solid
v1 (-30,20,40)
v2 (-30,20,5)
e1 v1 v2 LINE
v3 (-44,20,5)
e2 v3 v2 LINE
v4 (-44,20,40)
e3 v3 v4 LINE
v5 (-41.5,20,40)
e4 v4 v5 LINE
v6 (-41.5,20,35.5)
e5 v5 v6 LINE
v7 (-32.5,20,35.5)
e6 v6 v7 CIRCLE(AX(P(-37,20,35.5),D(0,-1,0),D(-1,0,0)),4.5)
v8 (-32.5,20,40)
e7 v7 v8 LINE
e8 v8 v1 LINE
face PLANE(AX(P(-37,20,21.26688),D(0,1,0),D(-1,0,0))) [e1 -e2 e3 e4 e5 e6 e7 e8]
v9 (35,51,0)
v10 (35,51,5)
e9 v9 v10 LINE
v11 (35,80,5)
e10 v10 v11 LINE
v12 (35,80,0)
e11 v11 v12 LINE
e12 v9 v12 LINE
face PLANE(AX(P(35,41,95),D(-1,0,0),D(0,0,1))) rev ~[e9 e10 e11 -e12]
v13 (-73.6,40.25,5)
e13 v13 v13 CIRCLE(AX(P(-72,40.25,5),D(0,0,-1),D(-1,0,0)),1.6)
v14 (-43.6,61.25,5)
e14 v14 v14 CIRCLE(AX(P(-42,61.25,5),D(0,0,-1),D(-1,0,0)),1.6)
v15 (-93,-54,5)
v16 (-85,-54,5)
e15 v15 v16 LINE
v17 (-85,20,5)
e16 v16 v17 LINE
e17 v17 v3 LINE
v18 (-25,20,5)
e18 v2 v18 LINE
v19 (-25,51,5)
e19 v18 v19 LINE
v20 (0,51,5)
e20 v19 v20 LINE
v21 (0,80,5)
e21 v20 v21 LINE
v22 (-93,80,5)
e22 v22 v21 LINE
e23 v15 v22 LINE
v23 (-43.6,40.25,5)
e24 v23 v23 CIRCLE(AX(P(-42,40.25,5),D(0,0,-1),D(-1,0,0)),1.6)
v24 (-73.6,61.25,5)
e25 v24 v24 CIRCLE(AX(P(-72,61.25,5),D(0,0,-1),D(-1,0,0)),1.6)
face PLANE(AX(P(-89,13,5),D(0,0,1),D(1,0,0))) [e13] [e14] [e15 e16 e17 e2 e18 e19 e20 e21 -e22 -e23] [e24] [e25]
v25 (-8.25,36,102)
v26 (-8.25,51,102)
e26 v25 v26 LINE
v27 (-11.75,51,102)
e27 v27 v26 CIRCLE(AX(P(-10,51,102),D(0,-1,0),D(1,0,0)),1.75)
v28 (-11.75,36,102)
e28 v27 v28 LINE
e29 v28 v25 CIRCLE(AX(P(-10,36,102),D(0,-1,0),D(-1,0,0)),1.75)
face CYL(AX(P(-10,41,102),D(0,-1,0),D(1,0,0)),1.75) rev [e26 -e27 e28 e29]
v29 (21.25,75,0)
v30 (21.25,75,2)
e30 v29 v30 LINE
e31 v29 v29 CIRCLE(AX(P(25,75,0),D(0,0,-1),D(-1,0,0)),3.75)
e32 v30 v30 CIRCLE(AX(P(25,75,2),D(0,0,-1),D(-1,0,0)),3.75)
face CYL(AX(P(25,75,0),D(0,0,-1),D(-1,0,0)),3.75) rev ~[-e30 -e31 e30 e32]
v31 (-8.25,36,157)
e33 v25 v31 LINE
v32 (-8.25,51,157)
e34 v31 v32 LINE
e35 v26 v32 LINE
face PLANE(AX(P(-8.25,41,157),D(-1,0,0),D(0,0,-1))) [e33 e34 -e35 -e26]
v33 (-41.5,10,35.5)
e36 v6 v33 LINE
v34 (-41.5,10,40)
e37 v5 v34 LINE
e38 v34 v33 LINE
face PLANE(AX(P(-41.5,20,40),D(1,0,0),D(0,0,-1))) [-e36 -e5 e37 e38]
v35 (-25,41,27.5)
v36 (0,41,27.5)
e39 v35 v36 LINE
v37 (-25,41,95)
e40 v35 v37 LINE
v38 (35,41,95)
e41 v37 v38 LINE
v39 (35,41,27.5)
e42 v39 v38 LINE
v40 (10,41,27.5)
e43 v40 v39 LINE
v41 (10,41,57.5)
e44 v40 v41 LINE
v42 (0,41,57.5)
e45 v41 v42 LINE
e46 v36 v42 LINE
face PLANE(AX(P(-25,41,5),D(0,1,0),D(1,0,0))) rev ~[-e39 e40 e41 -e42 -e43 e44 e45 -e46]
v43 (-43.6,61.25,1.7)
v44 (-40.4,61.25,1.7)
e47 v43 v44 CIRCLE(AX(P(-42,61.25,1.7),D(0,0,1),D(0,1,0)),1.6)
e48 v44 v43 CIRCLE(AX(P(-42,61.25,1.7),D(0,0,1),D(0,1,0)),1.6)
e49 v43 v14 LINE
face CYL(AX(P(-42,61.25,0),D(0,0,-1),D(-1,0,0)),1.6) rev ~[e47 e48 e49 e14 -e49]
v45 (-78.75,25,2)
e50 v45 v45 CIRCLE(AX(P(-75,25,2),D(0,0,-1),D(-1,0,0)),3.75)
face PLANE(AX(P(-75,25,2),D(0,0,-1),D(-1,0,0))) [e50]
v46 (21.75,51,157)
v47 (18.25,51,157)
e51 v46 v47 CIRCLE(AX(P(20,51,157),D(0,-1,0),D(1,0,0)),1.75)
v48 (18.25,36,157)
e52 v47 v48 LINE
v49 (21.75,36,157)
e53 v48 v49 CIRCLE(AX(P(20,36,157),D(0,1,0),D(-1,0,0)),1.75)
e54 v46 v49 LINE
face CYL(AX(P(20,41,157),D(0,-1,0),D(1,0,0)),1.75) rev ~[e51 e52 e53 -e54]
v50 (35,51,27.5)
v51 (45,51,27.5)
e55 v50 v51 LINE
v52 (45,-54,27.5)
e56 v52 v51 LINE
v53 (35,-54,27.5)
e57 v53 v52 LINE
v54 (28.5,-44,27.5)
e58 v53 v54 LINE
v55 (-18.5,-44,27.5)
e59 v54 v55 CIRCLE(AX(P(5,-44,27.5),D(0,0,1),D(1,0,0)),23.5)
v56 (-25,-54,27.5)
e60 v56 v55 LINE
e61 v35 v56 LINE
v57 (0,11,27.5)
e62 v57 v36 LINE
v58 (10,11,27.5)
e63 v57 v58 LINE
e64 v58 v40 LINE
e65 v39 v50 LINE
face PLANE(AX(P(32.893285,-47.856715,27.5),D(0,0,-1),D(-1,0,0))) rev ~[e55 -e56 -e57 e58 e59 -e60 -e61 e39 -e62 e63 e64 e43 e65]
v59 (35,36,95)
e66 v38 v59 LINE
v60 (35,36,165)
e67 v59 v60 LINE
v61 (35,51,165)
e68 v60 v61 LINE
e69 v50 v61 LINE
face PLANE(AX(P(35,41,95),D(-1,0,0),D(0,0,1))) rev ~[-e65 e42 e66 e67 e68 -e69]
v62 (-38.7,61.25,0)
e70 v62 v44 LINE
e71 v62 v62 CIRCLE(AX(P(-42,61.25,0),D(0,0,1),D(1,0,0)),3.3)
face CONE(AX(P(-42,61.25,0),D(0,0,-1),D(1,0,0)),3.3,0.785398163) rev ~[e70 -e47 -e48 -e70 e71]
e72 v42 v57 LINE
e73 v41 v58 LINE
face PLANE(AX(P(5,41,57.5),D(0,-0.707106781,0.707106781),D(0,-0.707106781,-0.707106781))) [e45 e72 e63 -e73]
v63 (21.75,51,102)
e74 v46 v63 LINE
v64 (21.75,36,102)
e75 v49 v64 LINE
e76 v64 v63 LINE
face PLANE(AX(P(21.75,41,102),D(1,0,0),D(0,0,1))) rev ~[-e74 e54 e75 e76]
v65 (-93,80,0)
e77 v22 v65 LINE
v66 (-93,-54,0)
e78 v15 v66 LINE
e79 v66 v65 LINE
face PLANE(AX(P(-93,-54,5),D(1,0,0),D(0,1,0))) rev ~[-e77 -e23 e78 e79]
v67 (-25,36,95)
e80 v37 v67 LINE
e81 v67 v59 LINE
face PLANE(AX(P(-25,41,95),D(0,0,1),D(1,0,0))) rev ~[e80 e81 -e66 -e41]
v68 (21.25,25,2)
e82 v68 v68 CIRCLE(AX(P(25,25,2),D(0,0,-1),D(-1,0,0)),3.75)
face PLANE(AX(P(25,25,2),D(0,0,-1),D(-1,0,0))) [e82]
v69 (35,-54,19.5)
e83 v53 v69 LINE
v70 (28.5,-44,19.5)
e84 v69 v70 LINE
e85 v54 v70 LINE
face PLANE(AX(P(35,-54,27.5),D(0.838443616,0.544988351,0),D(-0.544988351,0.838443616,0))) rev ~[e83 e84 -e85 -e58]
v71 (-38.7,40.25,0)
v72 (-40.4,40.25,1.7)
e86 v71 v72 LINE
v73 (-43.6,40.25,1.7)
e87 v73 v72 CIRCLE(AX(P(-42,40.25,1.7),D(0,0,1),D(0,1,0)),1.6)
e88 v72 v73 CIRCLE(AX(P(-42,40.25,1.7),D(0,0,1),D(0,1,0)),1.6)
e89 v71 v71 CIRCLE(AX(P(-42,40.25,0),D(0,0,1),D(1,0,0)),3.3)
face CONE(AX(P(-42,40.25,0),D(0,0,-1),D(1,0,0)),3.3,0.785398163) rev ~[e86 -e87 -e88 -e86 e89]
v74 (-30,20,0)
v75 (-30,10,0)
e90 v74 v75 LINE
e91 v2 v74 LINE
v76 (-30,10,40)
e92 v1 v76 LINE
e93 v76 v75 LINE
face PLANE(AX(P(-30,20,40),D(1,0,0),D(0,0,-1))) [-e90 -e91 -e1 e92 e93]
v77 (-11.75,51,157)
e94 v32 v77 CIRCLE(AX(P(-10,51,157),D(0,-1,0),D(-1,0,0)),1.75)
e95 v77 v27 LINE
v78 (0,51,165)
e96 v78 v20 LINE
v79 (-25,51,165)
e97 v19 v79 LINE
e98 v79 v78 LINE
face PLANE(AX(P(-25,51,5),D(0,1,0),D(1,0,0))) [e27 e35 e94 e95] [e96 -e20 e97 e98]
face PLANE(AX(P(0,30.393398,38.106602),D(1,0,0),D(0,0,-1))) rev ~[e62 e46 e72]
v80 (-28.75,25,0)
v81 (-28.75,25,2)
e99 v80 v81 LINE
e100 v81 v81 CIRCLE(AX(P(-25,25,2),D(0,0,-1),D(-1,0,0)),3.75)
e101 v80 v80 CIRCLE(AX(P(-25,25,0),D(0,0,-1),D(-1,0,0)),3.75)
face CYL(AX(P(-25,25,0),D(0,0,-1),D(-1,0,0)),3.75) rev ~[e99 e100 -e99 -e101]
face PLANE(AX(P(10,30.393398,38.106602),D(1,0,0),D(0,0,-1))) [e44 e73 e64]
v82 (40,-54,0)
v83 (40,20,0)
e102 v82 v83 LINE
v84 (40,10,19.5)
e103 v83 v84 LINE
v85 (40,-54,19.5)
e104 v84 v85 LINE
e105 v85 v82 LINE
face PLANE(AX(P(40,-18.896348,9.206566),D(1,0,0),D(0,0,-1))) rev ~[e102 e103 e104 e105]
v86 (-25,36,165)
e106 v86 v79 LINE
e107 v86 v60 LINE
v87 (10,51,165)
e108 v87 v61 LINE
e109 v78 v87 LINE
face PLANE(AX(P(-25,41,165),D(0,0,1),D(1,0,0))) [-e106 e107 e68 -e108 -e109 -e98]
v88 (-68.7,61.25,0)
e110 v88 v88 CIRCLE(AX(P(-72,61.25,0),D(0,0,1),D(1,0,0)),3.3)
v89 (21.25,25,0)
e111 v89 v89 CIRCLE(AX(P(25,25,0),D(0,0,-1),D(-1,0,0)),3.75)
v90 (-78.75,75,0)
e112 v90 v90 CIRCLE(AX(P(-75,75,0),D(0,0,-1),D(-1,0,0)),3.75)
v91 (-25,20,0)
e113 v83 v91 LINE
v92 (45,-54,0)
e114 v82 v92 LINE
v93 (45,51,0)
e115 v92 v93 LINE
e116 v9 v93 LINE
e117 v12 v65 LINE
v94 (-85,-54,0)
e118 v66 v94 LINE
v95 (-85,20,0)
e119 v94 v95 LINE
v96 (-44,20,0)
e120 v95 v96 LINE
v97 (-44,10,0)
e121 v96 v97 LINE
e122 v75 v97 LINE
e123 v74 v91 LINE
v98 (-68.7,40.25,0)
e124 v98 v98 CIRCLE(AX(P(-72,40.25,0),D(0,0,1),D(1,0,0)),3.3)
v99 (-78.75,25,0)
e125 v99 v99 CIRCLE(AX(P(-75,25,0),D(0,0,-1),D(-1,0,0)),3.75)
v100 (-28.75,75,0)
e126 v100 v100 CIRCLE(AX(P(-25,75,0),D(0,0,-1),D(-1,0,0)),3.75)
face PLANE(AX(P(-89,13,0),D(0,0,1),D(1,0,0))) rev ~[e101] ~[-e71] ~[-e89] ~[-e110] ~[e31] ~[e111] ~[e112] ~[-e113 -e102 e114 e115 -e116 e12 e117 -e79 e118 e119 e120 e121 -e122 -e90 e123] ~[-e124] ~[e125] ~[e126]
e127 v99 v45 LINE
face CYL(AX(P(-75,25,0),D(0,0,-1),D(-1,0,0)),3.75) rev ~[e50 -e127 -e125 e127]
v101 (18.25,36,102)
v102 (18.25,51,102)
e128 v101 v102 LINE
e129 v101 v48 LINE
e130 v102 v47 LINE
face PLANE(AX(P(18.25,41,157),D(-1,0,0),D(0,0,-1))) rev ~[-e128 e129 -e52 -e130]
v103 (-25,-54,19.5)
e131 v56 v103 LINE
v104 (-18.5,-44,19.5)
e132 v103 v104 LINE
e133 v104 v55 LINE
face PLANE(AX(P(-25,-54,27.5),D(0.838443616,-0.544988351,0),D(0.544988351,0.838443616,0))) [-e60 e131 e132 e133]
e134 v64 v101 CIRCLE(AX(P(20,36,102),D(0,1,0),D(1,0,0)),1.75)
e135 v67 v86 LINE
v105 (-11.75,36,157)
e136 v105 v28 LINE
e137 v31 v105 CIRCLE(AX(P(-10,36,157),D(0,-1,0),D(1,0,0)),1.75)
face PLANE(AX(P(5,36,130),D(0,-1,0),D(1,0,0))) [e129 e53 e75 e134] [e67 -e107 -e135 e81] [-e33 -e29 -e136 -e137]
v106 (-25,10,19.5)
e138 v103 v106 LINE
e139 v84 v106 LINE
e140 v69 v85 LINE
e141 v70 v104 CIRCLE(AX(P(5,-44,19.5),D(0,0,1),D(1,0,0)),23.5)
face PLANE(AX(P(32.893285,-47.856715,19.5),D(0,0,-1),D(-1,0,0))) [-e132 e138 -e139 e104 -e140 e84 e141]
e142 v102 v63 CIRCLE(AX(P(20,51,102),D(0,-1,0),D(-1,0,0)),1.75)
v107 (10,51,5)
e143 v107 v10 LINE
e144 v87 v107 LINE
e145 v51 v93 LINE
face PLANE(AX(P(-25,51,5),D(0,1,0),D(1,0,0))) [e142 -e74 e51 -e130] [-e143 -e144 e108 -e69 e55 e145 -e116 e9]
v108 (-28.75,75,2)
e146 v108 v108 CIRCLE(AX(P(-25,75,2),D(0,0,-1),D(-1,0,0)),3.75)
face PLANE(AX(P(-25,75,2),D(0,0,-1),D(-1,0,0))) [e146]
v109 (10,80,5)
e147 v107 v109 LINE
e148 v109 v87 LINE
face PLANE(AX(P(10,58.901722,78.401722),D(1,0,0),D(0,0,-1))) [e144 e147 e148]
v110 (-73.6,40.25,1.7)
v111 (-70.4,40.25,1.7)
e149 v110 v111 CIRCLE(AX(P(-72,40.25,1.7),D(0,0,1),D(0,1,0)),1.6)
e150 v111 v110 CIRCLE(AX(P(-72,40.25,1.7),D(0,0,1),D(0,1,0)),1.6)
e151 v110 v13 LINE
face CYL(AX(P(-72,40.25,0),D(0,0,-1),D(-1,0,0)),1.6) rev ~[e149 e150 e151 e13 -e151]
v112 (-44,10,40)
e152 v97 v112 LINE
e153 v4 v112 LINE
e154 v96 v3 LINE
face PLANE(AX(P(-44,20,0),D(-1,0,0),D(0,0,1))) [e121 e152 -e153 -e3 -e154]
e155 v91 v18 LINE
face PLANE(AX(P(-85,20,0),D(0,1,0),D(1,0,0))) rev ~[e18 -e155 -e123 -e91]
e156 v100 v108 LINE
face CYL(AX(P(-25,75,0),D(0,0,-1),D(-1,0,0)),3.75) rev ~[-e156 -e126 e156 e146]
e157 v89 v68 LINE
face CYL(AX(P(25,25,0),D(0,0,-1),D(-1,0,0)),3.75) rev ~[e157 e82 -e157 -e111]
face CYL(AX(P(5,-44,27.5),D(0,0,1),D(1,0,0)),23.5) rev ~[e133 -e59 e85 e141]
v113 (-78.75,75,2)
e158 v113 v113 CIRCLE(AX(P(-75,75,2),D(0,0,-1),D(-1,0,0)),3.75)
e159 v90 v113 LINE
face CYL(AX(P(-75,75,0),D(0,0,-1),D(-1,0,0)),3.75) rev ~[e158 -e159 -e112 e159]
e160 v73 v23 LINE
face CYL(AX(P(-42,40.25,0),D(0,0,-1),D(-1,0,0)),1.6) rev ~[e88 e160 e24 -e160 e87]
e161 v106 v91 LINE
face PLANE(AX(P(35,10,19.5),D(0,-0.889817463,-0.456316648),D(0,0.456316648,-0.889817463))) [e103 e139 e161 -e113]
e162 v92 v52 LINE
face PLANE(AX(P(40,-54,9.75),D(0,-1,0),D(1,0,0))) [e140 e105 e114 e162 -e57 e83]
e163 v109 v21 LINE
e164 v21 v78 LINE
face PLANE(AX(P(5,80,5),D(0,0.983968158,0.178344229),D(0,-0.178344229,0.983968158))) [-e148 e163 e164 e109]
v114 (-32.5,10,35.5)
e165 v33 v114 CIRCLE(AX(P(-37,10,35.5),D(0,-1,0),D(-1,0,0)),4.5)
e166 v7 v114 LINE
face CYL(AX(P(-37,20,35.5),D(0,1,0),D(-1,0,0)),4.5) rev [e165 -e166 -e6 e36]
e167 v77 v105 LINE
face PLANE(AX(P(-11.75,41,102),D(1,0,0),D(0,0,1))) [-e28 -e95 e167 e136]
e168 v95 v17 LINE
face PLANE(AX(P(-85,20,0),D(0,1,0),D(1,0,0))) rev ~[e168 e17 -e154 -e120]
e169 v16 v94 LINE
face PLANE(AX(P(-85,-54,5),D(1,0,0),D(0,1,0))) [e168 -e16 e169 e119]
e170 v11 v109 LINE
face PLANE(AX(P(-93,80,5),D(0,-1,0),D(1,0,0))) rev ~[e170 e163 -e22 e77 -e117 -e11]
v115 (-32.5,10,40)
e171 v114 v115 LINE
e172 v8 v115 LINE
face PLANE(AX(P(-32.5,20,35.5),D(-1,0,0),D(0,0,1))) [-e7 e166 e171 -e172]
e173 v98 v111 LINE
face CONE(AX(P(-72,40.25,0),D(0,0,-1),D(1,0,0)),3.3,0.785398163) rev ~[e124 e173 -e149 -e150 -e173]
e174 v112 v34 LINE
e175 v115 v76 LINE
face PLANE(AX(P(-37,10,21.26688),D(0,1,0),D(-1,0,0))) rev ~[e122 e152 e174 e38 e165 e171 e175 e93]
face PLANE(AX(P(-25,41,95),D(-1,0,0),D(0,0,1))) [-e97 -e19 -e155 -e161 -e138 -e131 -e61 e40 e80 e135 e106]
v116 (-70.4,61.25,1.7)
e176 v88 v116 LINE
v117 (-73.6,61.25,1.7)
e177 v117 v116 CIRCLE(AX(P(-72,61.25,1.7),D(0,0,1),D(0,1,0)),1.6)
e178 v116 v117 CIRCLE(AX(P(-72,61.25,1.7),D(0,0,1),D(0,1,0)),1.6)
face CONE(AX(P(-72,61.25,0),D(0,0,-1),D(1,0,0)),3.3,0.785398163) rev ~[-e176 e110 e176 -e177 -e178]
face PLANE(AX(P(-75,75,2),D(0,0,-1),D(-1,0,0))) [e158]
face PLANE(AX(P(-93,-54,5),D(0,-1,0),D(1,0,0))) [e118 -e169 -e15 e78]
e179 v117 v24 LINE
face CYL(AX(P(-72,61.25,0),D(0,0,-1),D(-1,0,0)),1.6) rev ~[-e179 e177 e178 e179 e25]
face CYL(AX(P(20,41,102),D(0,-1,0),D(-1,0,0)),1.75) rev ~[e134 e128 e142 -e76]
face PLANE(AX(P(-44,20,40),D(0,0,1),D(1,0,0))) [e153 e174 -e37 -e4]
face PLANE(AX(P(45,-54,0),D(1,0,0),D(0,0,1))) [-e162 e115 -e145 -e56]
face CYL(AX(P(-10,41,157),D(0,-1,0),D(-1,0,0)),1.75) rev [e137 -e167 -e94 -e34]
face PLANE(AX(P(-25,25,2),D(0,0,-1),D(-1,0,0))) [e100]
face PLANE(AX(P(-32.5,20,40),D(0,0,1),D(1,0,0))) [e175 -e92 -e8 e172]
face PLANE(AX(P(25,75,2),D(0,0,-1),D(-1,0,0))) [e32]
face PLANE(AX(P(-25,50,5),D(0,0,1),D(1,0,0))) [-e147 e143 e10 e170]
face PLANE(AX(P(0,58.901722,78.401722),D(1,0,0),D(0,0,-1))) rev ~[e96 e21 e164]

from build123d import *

# Parameters (mm, degrees)
SKETCH_1_W                   = 120
SKETCH_1_H                   = 60
EXTRUDE_1_DEPTH              = 5
SKETCH_3_W                   = 60
SKETCH_3_H                   = 8
EXTRUDE_3_DEPTH              = 60
EXTRUDE_6_DEPTH              = 10
SKETCH_11_R                  = 1.6
CUT_EXTRUDE_3_DEPTH          = 124.668912828
SKETCH_12_R                  = 1.6
CUT_EXTRUDE_4_DEPTH          = 134.603892159
SKETCH_18_R                  = 3.75
CUT_EXTRUDE_7_DEPTH          = 2
SKETCH_20_W                  = 60
SKETCH_20_H                  = 90
EXTRUDE_8_DEPTH              = 8
SKETCH_22_W                  = 60
SKETCH_22_H                  = 50
EXTRUDE_9_DEPTH              = 5
CUT_EXTRUDE_8_DEPTH          = 191.131533418
CUT_EXTRUDE_8_DEPTH_BACK     = 191.131533418
SKETCH_23_W                  = 60
SKETCH_23_H                  = 10
EXTRUDE_10_DEPTH             = 160
CUT_EXTRUDE_9_DEPTH          = 190.660222503
SKETCH_25_W                  = 150
SKETCH_25_H                  = 13
CUT_EXTRUDE_10_DEPTH         = 193.937813816
SKETCH_26_W                  = 60
SKETCH_26_H                  = 8
EXTRUDE_11_DEPTH             = 85
SKETCH_27_R                  = 23.5
CUT_EXTRUDE_11_DEPTH         = 181.364214854
EXTRUDE_12_DEPTH             = 8
SKETCH_29_W                  = 60
SKETCH_29_H                  = 70
EXTRUDE_13_DEPTH             = 5
CUT_EXTRUDE_12_DEPTH         = 207.276513447
HOLE_WIZARD_M3_1_D           = 3.2
HOLE_WIZARD_M3_1_CSINK_D     = 6.6
HOLE_WIZARD_M3_1_CSINK_ANGLE = 90
SKETCH_33_W                  = 14.5
SKETCH_33_H                  = 21
EXTRUDE_14_DEPTH             = 60
EXTRUDE_15_DEPTH             = 60
EXTRUDE_18_DEPTH             = 5
EXTRUDE_19_DEPTH             = 5
SKETCH_38_W                  = 10
SKETCH_38_H                  = 105
EXTRUDE_20_DEPTH             = 8
SKETCH_40_W                  = 10
SKETCH_40_H                  = 19.5
EXTRUDE_21_DEPTH             = 105
CUT_EXTRUDE_13_DEPTH         = 5
SKETCH_42_W                  = 8
SKETCH_42_H                  = 134
EXTRUDE_22_DEPTH             = 5
EXTRUDE_17_DEPTH             = 5


with BuildPart() as part:
    # 草图1 → 凸台-拉伸1 (new body)
    with BuildSketch(Plane.XY):
        with Locations((-25, 50)):
            Rectangle(SKETCH_1_W, SKETCH_1_H)
    extrude(amount=EXTRUDE_1_DEPTH)

    # 草图3 → 凸台-拉伸3 (add)
    with BuildSketch(Plane.XY.offset(5)):
        with Locations((5, 76)):
            Rectangle(SKETCH_3_W, SKETCH_3_H)
    extrude(amount=EXTRUDE_3_DEPTH)

    # 草图9 → 凸台-拉伸6 (add)
    with BuildSketch(Plane.XZ.offset(-20)):
        with BuildLine():
            Line((-32.5, 0), (-41.5, 0))
            Line((-41.5, 0), (-44, 0))
            Line((-44, 0), (-44, 40))
            Line((-44, 40), (-41.5, 40))
            Line((-41.5, 40), (-41.5, 35.5))
            ThreePointArc((-41.5, 35.5), (-37, 31), (-32.5, 35.5))
            Line((-32.5, 35.5), (-32.5, 40))
            Line((-32.5, 40), (-30, 40))
            Line((-30, 40), (-30, 0))
            Line((-30, 0), (-32.5, 0))
        make_face()
    extrude(amount=EXTRUDE_6_DEPTH)

    # 草图11 → 切除-拉伸3 (cut, through all)
    with BuildSketch(Plane(origin=(0, 72, 0), x_dir=(-1, 0, 0), z_dir=(0, -1, 0))):
        with Locations(Location((-20, -52.088110118, 0), (0, 0, 90))):
            Circle(SKETCH_11_R)
        with Locations(Location((10, -28.088110118, 0), (0, 0, 90))):
            Circle(SKETCH_11_R)
        with Locations(Location((-20, -28.088110118, 0), (0, 0, 90))):
            Circle(SKETCH_11_R)
        with Locations(Location((10, -52.088110118, 0), (0, 0, 90))):
            Circle(SKETCH_11_R)
    extrude(amount=-CUT_EXTRUDE_3_DEPTH, mode=Mode.SUBTRACT)

    # 草图12 → 切除-拉伸4 (cut, through all)
    with BuildSketch(Plane(origin=(0, 0, 0), x_dir=(-1, 0, 0), z_dir=(0, 0, -1))):
        with Locations((42, 40.25)):
            Circle(SKETCH_12_R)
        with Locations((42, 61.25)):
            Circle(SKETCH_12_R)
        with Locations((72, 40.25)):
            Circle(SKETCH_12_R)
        with Locations((72, 61.25)):
            Circle(SKETCH_12_R)
    extrude(amount=-CUT_EXTRUDE_4_DEPTH, mode=Mode.SUBTRACT)

    # 草图18 → 切除-拉伸7 (cut)
    with BuildSketch(Plane(origin=(0, 0, 0), x_dir=(-1, 0, 0), z_dir=(0, 0, -1))):
        with Locations((75, 75)):
            Circle(SKETCH_18_R)
        with Locations((25, 75)):
            Circle(SKETCH_18_R)
        with Locations((-25, 75)):
            Circle(SKETCH_18_R)
        with Locations((-25, 25)):
            Circle(SKETCH_18_R)
        with Locations((25, 25)):
            Circle(SKETCH_18_R)
        with Locations((75, 25)):
            Circle(SKETCH_18_R)
    extrude(amount=-CUT_EXTRUDE_7_DEPTH, mode=Mode.SUBTRACT)

    # 草图20 → 凸台-拉伸8 (add)
    with BuildSketch(Plane(origin=(0, 80, 0), x_dir=(1, 0, 0), z_dir=(0, 1, 0))):
        with Locations((5, -110)):
            Rectangle(SKETCH_20_W, SKETCH_20_H)
    extrude(amount=-EXTRUDE_8_DEPTH)

    # 草图22 → 凸台-拉伸9 (add)
    with BuildSketch(Plane.XZ.offset(-72)):
        with Locations((5, 130)):
            Rectangle(SKETCH_22_W, SKETCH_22_H)
    extrude(amount=EXTRUDE_9_DEPTH)

    # 草图21 → 切除-拉伸8 (cut, two sides: drawn at the far end of the back side and taken through both)
    with BuildSketch(Plane(origin=(0, 80, 0), x_dir=(1, 0, 0), z_dir=(0, 1, 0)).offset(-CUT_EXTRUDE_8_DEPTH_BACK)):
        with BuildLine():
            Line((21.75, -115), (21.75, -145))
            ThreePointArc((21.75, -145), (20, -146.75), (18.25, -145))
            Line((18.25, -145), (18.25, -115))
            ThreePointArc((18.25, -115), (20, -113.25), (21.75, -115))
        make_face()
        with BuildLine():
            Line((-11.75, -115), (-11.75, -145))
            ThreePointArc((-11.75, -145), (-10, -146.75), (-8.25, -145))
            Line((-8.25, -145), (-8.25, -115))
            ThreePointArc((-8.25, -115), (-10, -113.25), (-11.75, -115))
        make_face()
    extrude(amount=CUT_EXTRUDE_8_DEPTH + CUT_EXTRUDE_8_DEPTH_BACK, mode=Mode.SUBTRACT)

    # 草图23 → 凸台-拉伸10 (add)
    with BuildSketch(Plane.XY.offset(5)):
        with Locations((5, 46)):
            Rectangle(SKETCH_23_W, SKETCH_23_H)
    extrude(amount=EXTRUDE_10_DEPTH)

    # 草图24 → 切除-拉伸9 (cut, through all)
    with BuildSketch(Plane.XZ.offset(-41)):
        with BuildLine():
            Line((-8.25, 157), (-8.25, 102))
            ThreePointArc((-8.25, 102), (-10, 100.25), (-11.75, 102))
            Line((-11.75, 102), (-11.75, 157))
            ThreePointArc((-11.75, 157), (-10, 158.75), (-8.25, 157))
        make_face()
        with BuildLine():
            Line((18.25, 157), (18.25, 102))
            ThreePointArc((18.25, 102), (20, 100.25), (21.75, 102))
            Line((21.75, 102), (21.75, 157))
            ThreePointArc((21.75, 157), (20, 158.75), (18.25, 157))
        make_face()
    extrude(amount=-CUT_EXTRUDE_9_DEPTH, mode=Mode.SUBTRACT)

    # 草图25 → 切除-拉伸10 (cut, through all)
    with BuildSketch(Plane.ZY.offset(25)):
        with Locations((80, 73.5)):
            Rectangle(SKETCH_25_W, SKETCH_25_H)
    extrude(amount=-CUT_EXTRUDE_10_DEPTH, mode=Mode.SUBTRACT)

    # 草图26 → 凸台-拉伸11 (add)
    with BuildSketch(Plane.XZ.offset(-41)):
        with Locations((5, 23.5)):
            Rectangle(SKETCH_26_W, SKETCH_26_H)
    extrude(amount=EXTRUDE_11_DEPTH)

    # 草图27 → 切除-拉伸11 (cut, through all)
    with BuildSketch(Plane.XY.offset(27.5)):
        with Locations((5, -44)):
            Circle(SKETCH_27_R)
    extrude(amount=-CUT_EXTRUDE_11_DEPTH, mode=Mode.SUBTRACT)

    # 草图28 → 凸台-拉伸12 (add)
    with BuildSketch(Plane.XY.offset(27.5)):
        Polygon((35, -44), (35, -54), (28.5, -44), align=None)
        Polygon((-25, -44), (-25, -54), (-18.5, -44), align=None)
    extrude(amount=-EXTRUDE_12_DEPTH)

    # 草图29 → 凸台-拉伸13 (add)
    with BuildSketch(Plane.XZ.offset(-41)):
        with Locations((5, 130)):
            Rectangle(SKETCH_29_W, SKETCH_29_H)
    extrude(amount=EXTRUDE_13_DEPTH)

    # 草图30 → 切除-拉伸12 (cut, through all)
    with BuildSketch(Plane.XZ.offset(-36)):
        with BuildLine():
            Line((18.25, 102), (18.25, 157))
            ThreePointArc((18.25, 157), (20, 158.75), (21.75, 157))
            Line((21.75, 157), (21.75, 102))
            ThreePointArc((21.75, 102), (20, 100.25), (18.25, 102))
        make_face()
        with BuildLine():
            Line((-8.25, 102), (-8.25, 157))
            ThreePointArc((-8.25, 157), (-10, 158.75), (-11.75, 157))
            Line((-11.75, 157), (-11.75, 102))
            ThreePointArc((-11.75, 102), (-10, 100.25), (-8.25, 102))
        make_face()
    extrude(amount=-CUT_EXTRUDE_12_DEPTH, mode=Mode.SUBTRACT)

    # M3 十字槽沉头木螺钉的锥形沉头孔1 (through all)
    with Locations(Plane(origin=(0, 0, 0), x_dir=(-1, 0, 0), z_dir=(0, 0, -1))):
        with Locations((42, 61.25), (72, 61.25), (72, 40.25), (42, 40.25)):
            CounterSinkHole(HOLE_WIZARD_M3_1_D / 2, HOLE_WIZARD_M3_1_CSINK_D / 2, counter_sink_angle=HOLE_WIZARD_M3_1_CSINK_ANGLE)

    # 草图33 → 凸台-拉伸14 (add)
    with BuildSketch(Plane(origin=(35, 0, 0), x_dir=(0, 0, -1), z_dir=(1, 0, 0))):
        with Locations((-12.25, 30.5)):
            Rectangle(SKETCH_33_W, SKETCH_33_H)
    extrude(amount=-EXTRUDE_14_DEPTH)

    # 草图34 → 凸台-拉伸15 (add)
    with BuildSketch(Plane(origin=(35, 0, 0), x_dir=(0, 0, -1), z_dir=(1, 0, 0))):
        Polygon((-19.5, 10), (0, 20), (-19.5, 20), align=None)
    extrude(amount=-EXTRUDE_15_DEPTH)

    # 草图35 → 凸台-拉伸18 (add, symmetric)
    with BuildSketch(Plane(origin=(5, 0, 0), x_dir=(0, 0, -1), z_dir=(1, 0, 0))):
        Polygon((-57.5, 41), (-27.5, 11), (-27.5, 41), align=None)
    extrude(amount=EXTRUDE_18_DEPTH, both=True)

    # 草图37 → 凸台-拉伸19 (add, symmetric)
    with BuildSketch(Plane(origin=(5, 0, 0), x_dir=(0, 0, -1), z_dir=(1, 0, 0))):
        Polygon((-5, 80), (-165, 51), (-5, 51), align=None)
    extrude(amount=EXTRUDE_19_DEPTH, both=True)

    # 草图38 → 凸台-拉伸20 (add)
    with BuildSketch(Plane.XY.offset(27.5)):
        with Locations((40, -1.5)):
            Rectangle(SKETCH_38_W, SKETCH_38_H)
    extrude(amount=-EXTRUDE_20_DEPTH)

    # 草图40 → 凸台-拉伸21 (add)
    with BuildSketch(Plane.XZ.offset(54)):
        with Locations((40, 9.75)):
            Rectangle(SKETCH_40_W, SKETCH_40_H)
    extrude(amount=-EXTRUDE_21_DEPTH)

    # 草图41 → 切除-拉伸13 (cut)
    with BuildSketch(Plane.ZY.offset(-35)):
        Polygon((0, 20), (19.5, 10), (19.5, -54), (0, -54), align=None)
    extrude(amount=-CUT_EXTRUDE_13_DEPTH, mode=Mode.SUBTRACT)

    # 草图42 → 凸台-拉伸22 (add)
    with BuildSketch(Plane.XY.offset(5)):
        with Locations((-89, 13)):
            Rectangle(SKETCH_42_W, SKETCH_42_H)
    extrude(amount=-EXTRUDE_22_DEPTH)

    # 草图36 → 凸台-拉伸17 (add, symmetric)
    with BuildSketch(Plane(origin=(5, 0, 0), x_dir=(0, 0, -1), z_dir=(1, 0, 0))):
        Polygon((-5, 80), (-165, 51), (-5, 51), align=None)
    extrude(amount=EXTRUDE_17_DEPTH, both=True)


solid = part.part
